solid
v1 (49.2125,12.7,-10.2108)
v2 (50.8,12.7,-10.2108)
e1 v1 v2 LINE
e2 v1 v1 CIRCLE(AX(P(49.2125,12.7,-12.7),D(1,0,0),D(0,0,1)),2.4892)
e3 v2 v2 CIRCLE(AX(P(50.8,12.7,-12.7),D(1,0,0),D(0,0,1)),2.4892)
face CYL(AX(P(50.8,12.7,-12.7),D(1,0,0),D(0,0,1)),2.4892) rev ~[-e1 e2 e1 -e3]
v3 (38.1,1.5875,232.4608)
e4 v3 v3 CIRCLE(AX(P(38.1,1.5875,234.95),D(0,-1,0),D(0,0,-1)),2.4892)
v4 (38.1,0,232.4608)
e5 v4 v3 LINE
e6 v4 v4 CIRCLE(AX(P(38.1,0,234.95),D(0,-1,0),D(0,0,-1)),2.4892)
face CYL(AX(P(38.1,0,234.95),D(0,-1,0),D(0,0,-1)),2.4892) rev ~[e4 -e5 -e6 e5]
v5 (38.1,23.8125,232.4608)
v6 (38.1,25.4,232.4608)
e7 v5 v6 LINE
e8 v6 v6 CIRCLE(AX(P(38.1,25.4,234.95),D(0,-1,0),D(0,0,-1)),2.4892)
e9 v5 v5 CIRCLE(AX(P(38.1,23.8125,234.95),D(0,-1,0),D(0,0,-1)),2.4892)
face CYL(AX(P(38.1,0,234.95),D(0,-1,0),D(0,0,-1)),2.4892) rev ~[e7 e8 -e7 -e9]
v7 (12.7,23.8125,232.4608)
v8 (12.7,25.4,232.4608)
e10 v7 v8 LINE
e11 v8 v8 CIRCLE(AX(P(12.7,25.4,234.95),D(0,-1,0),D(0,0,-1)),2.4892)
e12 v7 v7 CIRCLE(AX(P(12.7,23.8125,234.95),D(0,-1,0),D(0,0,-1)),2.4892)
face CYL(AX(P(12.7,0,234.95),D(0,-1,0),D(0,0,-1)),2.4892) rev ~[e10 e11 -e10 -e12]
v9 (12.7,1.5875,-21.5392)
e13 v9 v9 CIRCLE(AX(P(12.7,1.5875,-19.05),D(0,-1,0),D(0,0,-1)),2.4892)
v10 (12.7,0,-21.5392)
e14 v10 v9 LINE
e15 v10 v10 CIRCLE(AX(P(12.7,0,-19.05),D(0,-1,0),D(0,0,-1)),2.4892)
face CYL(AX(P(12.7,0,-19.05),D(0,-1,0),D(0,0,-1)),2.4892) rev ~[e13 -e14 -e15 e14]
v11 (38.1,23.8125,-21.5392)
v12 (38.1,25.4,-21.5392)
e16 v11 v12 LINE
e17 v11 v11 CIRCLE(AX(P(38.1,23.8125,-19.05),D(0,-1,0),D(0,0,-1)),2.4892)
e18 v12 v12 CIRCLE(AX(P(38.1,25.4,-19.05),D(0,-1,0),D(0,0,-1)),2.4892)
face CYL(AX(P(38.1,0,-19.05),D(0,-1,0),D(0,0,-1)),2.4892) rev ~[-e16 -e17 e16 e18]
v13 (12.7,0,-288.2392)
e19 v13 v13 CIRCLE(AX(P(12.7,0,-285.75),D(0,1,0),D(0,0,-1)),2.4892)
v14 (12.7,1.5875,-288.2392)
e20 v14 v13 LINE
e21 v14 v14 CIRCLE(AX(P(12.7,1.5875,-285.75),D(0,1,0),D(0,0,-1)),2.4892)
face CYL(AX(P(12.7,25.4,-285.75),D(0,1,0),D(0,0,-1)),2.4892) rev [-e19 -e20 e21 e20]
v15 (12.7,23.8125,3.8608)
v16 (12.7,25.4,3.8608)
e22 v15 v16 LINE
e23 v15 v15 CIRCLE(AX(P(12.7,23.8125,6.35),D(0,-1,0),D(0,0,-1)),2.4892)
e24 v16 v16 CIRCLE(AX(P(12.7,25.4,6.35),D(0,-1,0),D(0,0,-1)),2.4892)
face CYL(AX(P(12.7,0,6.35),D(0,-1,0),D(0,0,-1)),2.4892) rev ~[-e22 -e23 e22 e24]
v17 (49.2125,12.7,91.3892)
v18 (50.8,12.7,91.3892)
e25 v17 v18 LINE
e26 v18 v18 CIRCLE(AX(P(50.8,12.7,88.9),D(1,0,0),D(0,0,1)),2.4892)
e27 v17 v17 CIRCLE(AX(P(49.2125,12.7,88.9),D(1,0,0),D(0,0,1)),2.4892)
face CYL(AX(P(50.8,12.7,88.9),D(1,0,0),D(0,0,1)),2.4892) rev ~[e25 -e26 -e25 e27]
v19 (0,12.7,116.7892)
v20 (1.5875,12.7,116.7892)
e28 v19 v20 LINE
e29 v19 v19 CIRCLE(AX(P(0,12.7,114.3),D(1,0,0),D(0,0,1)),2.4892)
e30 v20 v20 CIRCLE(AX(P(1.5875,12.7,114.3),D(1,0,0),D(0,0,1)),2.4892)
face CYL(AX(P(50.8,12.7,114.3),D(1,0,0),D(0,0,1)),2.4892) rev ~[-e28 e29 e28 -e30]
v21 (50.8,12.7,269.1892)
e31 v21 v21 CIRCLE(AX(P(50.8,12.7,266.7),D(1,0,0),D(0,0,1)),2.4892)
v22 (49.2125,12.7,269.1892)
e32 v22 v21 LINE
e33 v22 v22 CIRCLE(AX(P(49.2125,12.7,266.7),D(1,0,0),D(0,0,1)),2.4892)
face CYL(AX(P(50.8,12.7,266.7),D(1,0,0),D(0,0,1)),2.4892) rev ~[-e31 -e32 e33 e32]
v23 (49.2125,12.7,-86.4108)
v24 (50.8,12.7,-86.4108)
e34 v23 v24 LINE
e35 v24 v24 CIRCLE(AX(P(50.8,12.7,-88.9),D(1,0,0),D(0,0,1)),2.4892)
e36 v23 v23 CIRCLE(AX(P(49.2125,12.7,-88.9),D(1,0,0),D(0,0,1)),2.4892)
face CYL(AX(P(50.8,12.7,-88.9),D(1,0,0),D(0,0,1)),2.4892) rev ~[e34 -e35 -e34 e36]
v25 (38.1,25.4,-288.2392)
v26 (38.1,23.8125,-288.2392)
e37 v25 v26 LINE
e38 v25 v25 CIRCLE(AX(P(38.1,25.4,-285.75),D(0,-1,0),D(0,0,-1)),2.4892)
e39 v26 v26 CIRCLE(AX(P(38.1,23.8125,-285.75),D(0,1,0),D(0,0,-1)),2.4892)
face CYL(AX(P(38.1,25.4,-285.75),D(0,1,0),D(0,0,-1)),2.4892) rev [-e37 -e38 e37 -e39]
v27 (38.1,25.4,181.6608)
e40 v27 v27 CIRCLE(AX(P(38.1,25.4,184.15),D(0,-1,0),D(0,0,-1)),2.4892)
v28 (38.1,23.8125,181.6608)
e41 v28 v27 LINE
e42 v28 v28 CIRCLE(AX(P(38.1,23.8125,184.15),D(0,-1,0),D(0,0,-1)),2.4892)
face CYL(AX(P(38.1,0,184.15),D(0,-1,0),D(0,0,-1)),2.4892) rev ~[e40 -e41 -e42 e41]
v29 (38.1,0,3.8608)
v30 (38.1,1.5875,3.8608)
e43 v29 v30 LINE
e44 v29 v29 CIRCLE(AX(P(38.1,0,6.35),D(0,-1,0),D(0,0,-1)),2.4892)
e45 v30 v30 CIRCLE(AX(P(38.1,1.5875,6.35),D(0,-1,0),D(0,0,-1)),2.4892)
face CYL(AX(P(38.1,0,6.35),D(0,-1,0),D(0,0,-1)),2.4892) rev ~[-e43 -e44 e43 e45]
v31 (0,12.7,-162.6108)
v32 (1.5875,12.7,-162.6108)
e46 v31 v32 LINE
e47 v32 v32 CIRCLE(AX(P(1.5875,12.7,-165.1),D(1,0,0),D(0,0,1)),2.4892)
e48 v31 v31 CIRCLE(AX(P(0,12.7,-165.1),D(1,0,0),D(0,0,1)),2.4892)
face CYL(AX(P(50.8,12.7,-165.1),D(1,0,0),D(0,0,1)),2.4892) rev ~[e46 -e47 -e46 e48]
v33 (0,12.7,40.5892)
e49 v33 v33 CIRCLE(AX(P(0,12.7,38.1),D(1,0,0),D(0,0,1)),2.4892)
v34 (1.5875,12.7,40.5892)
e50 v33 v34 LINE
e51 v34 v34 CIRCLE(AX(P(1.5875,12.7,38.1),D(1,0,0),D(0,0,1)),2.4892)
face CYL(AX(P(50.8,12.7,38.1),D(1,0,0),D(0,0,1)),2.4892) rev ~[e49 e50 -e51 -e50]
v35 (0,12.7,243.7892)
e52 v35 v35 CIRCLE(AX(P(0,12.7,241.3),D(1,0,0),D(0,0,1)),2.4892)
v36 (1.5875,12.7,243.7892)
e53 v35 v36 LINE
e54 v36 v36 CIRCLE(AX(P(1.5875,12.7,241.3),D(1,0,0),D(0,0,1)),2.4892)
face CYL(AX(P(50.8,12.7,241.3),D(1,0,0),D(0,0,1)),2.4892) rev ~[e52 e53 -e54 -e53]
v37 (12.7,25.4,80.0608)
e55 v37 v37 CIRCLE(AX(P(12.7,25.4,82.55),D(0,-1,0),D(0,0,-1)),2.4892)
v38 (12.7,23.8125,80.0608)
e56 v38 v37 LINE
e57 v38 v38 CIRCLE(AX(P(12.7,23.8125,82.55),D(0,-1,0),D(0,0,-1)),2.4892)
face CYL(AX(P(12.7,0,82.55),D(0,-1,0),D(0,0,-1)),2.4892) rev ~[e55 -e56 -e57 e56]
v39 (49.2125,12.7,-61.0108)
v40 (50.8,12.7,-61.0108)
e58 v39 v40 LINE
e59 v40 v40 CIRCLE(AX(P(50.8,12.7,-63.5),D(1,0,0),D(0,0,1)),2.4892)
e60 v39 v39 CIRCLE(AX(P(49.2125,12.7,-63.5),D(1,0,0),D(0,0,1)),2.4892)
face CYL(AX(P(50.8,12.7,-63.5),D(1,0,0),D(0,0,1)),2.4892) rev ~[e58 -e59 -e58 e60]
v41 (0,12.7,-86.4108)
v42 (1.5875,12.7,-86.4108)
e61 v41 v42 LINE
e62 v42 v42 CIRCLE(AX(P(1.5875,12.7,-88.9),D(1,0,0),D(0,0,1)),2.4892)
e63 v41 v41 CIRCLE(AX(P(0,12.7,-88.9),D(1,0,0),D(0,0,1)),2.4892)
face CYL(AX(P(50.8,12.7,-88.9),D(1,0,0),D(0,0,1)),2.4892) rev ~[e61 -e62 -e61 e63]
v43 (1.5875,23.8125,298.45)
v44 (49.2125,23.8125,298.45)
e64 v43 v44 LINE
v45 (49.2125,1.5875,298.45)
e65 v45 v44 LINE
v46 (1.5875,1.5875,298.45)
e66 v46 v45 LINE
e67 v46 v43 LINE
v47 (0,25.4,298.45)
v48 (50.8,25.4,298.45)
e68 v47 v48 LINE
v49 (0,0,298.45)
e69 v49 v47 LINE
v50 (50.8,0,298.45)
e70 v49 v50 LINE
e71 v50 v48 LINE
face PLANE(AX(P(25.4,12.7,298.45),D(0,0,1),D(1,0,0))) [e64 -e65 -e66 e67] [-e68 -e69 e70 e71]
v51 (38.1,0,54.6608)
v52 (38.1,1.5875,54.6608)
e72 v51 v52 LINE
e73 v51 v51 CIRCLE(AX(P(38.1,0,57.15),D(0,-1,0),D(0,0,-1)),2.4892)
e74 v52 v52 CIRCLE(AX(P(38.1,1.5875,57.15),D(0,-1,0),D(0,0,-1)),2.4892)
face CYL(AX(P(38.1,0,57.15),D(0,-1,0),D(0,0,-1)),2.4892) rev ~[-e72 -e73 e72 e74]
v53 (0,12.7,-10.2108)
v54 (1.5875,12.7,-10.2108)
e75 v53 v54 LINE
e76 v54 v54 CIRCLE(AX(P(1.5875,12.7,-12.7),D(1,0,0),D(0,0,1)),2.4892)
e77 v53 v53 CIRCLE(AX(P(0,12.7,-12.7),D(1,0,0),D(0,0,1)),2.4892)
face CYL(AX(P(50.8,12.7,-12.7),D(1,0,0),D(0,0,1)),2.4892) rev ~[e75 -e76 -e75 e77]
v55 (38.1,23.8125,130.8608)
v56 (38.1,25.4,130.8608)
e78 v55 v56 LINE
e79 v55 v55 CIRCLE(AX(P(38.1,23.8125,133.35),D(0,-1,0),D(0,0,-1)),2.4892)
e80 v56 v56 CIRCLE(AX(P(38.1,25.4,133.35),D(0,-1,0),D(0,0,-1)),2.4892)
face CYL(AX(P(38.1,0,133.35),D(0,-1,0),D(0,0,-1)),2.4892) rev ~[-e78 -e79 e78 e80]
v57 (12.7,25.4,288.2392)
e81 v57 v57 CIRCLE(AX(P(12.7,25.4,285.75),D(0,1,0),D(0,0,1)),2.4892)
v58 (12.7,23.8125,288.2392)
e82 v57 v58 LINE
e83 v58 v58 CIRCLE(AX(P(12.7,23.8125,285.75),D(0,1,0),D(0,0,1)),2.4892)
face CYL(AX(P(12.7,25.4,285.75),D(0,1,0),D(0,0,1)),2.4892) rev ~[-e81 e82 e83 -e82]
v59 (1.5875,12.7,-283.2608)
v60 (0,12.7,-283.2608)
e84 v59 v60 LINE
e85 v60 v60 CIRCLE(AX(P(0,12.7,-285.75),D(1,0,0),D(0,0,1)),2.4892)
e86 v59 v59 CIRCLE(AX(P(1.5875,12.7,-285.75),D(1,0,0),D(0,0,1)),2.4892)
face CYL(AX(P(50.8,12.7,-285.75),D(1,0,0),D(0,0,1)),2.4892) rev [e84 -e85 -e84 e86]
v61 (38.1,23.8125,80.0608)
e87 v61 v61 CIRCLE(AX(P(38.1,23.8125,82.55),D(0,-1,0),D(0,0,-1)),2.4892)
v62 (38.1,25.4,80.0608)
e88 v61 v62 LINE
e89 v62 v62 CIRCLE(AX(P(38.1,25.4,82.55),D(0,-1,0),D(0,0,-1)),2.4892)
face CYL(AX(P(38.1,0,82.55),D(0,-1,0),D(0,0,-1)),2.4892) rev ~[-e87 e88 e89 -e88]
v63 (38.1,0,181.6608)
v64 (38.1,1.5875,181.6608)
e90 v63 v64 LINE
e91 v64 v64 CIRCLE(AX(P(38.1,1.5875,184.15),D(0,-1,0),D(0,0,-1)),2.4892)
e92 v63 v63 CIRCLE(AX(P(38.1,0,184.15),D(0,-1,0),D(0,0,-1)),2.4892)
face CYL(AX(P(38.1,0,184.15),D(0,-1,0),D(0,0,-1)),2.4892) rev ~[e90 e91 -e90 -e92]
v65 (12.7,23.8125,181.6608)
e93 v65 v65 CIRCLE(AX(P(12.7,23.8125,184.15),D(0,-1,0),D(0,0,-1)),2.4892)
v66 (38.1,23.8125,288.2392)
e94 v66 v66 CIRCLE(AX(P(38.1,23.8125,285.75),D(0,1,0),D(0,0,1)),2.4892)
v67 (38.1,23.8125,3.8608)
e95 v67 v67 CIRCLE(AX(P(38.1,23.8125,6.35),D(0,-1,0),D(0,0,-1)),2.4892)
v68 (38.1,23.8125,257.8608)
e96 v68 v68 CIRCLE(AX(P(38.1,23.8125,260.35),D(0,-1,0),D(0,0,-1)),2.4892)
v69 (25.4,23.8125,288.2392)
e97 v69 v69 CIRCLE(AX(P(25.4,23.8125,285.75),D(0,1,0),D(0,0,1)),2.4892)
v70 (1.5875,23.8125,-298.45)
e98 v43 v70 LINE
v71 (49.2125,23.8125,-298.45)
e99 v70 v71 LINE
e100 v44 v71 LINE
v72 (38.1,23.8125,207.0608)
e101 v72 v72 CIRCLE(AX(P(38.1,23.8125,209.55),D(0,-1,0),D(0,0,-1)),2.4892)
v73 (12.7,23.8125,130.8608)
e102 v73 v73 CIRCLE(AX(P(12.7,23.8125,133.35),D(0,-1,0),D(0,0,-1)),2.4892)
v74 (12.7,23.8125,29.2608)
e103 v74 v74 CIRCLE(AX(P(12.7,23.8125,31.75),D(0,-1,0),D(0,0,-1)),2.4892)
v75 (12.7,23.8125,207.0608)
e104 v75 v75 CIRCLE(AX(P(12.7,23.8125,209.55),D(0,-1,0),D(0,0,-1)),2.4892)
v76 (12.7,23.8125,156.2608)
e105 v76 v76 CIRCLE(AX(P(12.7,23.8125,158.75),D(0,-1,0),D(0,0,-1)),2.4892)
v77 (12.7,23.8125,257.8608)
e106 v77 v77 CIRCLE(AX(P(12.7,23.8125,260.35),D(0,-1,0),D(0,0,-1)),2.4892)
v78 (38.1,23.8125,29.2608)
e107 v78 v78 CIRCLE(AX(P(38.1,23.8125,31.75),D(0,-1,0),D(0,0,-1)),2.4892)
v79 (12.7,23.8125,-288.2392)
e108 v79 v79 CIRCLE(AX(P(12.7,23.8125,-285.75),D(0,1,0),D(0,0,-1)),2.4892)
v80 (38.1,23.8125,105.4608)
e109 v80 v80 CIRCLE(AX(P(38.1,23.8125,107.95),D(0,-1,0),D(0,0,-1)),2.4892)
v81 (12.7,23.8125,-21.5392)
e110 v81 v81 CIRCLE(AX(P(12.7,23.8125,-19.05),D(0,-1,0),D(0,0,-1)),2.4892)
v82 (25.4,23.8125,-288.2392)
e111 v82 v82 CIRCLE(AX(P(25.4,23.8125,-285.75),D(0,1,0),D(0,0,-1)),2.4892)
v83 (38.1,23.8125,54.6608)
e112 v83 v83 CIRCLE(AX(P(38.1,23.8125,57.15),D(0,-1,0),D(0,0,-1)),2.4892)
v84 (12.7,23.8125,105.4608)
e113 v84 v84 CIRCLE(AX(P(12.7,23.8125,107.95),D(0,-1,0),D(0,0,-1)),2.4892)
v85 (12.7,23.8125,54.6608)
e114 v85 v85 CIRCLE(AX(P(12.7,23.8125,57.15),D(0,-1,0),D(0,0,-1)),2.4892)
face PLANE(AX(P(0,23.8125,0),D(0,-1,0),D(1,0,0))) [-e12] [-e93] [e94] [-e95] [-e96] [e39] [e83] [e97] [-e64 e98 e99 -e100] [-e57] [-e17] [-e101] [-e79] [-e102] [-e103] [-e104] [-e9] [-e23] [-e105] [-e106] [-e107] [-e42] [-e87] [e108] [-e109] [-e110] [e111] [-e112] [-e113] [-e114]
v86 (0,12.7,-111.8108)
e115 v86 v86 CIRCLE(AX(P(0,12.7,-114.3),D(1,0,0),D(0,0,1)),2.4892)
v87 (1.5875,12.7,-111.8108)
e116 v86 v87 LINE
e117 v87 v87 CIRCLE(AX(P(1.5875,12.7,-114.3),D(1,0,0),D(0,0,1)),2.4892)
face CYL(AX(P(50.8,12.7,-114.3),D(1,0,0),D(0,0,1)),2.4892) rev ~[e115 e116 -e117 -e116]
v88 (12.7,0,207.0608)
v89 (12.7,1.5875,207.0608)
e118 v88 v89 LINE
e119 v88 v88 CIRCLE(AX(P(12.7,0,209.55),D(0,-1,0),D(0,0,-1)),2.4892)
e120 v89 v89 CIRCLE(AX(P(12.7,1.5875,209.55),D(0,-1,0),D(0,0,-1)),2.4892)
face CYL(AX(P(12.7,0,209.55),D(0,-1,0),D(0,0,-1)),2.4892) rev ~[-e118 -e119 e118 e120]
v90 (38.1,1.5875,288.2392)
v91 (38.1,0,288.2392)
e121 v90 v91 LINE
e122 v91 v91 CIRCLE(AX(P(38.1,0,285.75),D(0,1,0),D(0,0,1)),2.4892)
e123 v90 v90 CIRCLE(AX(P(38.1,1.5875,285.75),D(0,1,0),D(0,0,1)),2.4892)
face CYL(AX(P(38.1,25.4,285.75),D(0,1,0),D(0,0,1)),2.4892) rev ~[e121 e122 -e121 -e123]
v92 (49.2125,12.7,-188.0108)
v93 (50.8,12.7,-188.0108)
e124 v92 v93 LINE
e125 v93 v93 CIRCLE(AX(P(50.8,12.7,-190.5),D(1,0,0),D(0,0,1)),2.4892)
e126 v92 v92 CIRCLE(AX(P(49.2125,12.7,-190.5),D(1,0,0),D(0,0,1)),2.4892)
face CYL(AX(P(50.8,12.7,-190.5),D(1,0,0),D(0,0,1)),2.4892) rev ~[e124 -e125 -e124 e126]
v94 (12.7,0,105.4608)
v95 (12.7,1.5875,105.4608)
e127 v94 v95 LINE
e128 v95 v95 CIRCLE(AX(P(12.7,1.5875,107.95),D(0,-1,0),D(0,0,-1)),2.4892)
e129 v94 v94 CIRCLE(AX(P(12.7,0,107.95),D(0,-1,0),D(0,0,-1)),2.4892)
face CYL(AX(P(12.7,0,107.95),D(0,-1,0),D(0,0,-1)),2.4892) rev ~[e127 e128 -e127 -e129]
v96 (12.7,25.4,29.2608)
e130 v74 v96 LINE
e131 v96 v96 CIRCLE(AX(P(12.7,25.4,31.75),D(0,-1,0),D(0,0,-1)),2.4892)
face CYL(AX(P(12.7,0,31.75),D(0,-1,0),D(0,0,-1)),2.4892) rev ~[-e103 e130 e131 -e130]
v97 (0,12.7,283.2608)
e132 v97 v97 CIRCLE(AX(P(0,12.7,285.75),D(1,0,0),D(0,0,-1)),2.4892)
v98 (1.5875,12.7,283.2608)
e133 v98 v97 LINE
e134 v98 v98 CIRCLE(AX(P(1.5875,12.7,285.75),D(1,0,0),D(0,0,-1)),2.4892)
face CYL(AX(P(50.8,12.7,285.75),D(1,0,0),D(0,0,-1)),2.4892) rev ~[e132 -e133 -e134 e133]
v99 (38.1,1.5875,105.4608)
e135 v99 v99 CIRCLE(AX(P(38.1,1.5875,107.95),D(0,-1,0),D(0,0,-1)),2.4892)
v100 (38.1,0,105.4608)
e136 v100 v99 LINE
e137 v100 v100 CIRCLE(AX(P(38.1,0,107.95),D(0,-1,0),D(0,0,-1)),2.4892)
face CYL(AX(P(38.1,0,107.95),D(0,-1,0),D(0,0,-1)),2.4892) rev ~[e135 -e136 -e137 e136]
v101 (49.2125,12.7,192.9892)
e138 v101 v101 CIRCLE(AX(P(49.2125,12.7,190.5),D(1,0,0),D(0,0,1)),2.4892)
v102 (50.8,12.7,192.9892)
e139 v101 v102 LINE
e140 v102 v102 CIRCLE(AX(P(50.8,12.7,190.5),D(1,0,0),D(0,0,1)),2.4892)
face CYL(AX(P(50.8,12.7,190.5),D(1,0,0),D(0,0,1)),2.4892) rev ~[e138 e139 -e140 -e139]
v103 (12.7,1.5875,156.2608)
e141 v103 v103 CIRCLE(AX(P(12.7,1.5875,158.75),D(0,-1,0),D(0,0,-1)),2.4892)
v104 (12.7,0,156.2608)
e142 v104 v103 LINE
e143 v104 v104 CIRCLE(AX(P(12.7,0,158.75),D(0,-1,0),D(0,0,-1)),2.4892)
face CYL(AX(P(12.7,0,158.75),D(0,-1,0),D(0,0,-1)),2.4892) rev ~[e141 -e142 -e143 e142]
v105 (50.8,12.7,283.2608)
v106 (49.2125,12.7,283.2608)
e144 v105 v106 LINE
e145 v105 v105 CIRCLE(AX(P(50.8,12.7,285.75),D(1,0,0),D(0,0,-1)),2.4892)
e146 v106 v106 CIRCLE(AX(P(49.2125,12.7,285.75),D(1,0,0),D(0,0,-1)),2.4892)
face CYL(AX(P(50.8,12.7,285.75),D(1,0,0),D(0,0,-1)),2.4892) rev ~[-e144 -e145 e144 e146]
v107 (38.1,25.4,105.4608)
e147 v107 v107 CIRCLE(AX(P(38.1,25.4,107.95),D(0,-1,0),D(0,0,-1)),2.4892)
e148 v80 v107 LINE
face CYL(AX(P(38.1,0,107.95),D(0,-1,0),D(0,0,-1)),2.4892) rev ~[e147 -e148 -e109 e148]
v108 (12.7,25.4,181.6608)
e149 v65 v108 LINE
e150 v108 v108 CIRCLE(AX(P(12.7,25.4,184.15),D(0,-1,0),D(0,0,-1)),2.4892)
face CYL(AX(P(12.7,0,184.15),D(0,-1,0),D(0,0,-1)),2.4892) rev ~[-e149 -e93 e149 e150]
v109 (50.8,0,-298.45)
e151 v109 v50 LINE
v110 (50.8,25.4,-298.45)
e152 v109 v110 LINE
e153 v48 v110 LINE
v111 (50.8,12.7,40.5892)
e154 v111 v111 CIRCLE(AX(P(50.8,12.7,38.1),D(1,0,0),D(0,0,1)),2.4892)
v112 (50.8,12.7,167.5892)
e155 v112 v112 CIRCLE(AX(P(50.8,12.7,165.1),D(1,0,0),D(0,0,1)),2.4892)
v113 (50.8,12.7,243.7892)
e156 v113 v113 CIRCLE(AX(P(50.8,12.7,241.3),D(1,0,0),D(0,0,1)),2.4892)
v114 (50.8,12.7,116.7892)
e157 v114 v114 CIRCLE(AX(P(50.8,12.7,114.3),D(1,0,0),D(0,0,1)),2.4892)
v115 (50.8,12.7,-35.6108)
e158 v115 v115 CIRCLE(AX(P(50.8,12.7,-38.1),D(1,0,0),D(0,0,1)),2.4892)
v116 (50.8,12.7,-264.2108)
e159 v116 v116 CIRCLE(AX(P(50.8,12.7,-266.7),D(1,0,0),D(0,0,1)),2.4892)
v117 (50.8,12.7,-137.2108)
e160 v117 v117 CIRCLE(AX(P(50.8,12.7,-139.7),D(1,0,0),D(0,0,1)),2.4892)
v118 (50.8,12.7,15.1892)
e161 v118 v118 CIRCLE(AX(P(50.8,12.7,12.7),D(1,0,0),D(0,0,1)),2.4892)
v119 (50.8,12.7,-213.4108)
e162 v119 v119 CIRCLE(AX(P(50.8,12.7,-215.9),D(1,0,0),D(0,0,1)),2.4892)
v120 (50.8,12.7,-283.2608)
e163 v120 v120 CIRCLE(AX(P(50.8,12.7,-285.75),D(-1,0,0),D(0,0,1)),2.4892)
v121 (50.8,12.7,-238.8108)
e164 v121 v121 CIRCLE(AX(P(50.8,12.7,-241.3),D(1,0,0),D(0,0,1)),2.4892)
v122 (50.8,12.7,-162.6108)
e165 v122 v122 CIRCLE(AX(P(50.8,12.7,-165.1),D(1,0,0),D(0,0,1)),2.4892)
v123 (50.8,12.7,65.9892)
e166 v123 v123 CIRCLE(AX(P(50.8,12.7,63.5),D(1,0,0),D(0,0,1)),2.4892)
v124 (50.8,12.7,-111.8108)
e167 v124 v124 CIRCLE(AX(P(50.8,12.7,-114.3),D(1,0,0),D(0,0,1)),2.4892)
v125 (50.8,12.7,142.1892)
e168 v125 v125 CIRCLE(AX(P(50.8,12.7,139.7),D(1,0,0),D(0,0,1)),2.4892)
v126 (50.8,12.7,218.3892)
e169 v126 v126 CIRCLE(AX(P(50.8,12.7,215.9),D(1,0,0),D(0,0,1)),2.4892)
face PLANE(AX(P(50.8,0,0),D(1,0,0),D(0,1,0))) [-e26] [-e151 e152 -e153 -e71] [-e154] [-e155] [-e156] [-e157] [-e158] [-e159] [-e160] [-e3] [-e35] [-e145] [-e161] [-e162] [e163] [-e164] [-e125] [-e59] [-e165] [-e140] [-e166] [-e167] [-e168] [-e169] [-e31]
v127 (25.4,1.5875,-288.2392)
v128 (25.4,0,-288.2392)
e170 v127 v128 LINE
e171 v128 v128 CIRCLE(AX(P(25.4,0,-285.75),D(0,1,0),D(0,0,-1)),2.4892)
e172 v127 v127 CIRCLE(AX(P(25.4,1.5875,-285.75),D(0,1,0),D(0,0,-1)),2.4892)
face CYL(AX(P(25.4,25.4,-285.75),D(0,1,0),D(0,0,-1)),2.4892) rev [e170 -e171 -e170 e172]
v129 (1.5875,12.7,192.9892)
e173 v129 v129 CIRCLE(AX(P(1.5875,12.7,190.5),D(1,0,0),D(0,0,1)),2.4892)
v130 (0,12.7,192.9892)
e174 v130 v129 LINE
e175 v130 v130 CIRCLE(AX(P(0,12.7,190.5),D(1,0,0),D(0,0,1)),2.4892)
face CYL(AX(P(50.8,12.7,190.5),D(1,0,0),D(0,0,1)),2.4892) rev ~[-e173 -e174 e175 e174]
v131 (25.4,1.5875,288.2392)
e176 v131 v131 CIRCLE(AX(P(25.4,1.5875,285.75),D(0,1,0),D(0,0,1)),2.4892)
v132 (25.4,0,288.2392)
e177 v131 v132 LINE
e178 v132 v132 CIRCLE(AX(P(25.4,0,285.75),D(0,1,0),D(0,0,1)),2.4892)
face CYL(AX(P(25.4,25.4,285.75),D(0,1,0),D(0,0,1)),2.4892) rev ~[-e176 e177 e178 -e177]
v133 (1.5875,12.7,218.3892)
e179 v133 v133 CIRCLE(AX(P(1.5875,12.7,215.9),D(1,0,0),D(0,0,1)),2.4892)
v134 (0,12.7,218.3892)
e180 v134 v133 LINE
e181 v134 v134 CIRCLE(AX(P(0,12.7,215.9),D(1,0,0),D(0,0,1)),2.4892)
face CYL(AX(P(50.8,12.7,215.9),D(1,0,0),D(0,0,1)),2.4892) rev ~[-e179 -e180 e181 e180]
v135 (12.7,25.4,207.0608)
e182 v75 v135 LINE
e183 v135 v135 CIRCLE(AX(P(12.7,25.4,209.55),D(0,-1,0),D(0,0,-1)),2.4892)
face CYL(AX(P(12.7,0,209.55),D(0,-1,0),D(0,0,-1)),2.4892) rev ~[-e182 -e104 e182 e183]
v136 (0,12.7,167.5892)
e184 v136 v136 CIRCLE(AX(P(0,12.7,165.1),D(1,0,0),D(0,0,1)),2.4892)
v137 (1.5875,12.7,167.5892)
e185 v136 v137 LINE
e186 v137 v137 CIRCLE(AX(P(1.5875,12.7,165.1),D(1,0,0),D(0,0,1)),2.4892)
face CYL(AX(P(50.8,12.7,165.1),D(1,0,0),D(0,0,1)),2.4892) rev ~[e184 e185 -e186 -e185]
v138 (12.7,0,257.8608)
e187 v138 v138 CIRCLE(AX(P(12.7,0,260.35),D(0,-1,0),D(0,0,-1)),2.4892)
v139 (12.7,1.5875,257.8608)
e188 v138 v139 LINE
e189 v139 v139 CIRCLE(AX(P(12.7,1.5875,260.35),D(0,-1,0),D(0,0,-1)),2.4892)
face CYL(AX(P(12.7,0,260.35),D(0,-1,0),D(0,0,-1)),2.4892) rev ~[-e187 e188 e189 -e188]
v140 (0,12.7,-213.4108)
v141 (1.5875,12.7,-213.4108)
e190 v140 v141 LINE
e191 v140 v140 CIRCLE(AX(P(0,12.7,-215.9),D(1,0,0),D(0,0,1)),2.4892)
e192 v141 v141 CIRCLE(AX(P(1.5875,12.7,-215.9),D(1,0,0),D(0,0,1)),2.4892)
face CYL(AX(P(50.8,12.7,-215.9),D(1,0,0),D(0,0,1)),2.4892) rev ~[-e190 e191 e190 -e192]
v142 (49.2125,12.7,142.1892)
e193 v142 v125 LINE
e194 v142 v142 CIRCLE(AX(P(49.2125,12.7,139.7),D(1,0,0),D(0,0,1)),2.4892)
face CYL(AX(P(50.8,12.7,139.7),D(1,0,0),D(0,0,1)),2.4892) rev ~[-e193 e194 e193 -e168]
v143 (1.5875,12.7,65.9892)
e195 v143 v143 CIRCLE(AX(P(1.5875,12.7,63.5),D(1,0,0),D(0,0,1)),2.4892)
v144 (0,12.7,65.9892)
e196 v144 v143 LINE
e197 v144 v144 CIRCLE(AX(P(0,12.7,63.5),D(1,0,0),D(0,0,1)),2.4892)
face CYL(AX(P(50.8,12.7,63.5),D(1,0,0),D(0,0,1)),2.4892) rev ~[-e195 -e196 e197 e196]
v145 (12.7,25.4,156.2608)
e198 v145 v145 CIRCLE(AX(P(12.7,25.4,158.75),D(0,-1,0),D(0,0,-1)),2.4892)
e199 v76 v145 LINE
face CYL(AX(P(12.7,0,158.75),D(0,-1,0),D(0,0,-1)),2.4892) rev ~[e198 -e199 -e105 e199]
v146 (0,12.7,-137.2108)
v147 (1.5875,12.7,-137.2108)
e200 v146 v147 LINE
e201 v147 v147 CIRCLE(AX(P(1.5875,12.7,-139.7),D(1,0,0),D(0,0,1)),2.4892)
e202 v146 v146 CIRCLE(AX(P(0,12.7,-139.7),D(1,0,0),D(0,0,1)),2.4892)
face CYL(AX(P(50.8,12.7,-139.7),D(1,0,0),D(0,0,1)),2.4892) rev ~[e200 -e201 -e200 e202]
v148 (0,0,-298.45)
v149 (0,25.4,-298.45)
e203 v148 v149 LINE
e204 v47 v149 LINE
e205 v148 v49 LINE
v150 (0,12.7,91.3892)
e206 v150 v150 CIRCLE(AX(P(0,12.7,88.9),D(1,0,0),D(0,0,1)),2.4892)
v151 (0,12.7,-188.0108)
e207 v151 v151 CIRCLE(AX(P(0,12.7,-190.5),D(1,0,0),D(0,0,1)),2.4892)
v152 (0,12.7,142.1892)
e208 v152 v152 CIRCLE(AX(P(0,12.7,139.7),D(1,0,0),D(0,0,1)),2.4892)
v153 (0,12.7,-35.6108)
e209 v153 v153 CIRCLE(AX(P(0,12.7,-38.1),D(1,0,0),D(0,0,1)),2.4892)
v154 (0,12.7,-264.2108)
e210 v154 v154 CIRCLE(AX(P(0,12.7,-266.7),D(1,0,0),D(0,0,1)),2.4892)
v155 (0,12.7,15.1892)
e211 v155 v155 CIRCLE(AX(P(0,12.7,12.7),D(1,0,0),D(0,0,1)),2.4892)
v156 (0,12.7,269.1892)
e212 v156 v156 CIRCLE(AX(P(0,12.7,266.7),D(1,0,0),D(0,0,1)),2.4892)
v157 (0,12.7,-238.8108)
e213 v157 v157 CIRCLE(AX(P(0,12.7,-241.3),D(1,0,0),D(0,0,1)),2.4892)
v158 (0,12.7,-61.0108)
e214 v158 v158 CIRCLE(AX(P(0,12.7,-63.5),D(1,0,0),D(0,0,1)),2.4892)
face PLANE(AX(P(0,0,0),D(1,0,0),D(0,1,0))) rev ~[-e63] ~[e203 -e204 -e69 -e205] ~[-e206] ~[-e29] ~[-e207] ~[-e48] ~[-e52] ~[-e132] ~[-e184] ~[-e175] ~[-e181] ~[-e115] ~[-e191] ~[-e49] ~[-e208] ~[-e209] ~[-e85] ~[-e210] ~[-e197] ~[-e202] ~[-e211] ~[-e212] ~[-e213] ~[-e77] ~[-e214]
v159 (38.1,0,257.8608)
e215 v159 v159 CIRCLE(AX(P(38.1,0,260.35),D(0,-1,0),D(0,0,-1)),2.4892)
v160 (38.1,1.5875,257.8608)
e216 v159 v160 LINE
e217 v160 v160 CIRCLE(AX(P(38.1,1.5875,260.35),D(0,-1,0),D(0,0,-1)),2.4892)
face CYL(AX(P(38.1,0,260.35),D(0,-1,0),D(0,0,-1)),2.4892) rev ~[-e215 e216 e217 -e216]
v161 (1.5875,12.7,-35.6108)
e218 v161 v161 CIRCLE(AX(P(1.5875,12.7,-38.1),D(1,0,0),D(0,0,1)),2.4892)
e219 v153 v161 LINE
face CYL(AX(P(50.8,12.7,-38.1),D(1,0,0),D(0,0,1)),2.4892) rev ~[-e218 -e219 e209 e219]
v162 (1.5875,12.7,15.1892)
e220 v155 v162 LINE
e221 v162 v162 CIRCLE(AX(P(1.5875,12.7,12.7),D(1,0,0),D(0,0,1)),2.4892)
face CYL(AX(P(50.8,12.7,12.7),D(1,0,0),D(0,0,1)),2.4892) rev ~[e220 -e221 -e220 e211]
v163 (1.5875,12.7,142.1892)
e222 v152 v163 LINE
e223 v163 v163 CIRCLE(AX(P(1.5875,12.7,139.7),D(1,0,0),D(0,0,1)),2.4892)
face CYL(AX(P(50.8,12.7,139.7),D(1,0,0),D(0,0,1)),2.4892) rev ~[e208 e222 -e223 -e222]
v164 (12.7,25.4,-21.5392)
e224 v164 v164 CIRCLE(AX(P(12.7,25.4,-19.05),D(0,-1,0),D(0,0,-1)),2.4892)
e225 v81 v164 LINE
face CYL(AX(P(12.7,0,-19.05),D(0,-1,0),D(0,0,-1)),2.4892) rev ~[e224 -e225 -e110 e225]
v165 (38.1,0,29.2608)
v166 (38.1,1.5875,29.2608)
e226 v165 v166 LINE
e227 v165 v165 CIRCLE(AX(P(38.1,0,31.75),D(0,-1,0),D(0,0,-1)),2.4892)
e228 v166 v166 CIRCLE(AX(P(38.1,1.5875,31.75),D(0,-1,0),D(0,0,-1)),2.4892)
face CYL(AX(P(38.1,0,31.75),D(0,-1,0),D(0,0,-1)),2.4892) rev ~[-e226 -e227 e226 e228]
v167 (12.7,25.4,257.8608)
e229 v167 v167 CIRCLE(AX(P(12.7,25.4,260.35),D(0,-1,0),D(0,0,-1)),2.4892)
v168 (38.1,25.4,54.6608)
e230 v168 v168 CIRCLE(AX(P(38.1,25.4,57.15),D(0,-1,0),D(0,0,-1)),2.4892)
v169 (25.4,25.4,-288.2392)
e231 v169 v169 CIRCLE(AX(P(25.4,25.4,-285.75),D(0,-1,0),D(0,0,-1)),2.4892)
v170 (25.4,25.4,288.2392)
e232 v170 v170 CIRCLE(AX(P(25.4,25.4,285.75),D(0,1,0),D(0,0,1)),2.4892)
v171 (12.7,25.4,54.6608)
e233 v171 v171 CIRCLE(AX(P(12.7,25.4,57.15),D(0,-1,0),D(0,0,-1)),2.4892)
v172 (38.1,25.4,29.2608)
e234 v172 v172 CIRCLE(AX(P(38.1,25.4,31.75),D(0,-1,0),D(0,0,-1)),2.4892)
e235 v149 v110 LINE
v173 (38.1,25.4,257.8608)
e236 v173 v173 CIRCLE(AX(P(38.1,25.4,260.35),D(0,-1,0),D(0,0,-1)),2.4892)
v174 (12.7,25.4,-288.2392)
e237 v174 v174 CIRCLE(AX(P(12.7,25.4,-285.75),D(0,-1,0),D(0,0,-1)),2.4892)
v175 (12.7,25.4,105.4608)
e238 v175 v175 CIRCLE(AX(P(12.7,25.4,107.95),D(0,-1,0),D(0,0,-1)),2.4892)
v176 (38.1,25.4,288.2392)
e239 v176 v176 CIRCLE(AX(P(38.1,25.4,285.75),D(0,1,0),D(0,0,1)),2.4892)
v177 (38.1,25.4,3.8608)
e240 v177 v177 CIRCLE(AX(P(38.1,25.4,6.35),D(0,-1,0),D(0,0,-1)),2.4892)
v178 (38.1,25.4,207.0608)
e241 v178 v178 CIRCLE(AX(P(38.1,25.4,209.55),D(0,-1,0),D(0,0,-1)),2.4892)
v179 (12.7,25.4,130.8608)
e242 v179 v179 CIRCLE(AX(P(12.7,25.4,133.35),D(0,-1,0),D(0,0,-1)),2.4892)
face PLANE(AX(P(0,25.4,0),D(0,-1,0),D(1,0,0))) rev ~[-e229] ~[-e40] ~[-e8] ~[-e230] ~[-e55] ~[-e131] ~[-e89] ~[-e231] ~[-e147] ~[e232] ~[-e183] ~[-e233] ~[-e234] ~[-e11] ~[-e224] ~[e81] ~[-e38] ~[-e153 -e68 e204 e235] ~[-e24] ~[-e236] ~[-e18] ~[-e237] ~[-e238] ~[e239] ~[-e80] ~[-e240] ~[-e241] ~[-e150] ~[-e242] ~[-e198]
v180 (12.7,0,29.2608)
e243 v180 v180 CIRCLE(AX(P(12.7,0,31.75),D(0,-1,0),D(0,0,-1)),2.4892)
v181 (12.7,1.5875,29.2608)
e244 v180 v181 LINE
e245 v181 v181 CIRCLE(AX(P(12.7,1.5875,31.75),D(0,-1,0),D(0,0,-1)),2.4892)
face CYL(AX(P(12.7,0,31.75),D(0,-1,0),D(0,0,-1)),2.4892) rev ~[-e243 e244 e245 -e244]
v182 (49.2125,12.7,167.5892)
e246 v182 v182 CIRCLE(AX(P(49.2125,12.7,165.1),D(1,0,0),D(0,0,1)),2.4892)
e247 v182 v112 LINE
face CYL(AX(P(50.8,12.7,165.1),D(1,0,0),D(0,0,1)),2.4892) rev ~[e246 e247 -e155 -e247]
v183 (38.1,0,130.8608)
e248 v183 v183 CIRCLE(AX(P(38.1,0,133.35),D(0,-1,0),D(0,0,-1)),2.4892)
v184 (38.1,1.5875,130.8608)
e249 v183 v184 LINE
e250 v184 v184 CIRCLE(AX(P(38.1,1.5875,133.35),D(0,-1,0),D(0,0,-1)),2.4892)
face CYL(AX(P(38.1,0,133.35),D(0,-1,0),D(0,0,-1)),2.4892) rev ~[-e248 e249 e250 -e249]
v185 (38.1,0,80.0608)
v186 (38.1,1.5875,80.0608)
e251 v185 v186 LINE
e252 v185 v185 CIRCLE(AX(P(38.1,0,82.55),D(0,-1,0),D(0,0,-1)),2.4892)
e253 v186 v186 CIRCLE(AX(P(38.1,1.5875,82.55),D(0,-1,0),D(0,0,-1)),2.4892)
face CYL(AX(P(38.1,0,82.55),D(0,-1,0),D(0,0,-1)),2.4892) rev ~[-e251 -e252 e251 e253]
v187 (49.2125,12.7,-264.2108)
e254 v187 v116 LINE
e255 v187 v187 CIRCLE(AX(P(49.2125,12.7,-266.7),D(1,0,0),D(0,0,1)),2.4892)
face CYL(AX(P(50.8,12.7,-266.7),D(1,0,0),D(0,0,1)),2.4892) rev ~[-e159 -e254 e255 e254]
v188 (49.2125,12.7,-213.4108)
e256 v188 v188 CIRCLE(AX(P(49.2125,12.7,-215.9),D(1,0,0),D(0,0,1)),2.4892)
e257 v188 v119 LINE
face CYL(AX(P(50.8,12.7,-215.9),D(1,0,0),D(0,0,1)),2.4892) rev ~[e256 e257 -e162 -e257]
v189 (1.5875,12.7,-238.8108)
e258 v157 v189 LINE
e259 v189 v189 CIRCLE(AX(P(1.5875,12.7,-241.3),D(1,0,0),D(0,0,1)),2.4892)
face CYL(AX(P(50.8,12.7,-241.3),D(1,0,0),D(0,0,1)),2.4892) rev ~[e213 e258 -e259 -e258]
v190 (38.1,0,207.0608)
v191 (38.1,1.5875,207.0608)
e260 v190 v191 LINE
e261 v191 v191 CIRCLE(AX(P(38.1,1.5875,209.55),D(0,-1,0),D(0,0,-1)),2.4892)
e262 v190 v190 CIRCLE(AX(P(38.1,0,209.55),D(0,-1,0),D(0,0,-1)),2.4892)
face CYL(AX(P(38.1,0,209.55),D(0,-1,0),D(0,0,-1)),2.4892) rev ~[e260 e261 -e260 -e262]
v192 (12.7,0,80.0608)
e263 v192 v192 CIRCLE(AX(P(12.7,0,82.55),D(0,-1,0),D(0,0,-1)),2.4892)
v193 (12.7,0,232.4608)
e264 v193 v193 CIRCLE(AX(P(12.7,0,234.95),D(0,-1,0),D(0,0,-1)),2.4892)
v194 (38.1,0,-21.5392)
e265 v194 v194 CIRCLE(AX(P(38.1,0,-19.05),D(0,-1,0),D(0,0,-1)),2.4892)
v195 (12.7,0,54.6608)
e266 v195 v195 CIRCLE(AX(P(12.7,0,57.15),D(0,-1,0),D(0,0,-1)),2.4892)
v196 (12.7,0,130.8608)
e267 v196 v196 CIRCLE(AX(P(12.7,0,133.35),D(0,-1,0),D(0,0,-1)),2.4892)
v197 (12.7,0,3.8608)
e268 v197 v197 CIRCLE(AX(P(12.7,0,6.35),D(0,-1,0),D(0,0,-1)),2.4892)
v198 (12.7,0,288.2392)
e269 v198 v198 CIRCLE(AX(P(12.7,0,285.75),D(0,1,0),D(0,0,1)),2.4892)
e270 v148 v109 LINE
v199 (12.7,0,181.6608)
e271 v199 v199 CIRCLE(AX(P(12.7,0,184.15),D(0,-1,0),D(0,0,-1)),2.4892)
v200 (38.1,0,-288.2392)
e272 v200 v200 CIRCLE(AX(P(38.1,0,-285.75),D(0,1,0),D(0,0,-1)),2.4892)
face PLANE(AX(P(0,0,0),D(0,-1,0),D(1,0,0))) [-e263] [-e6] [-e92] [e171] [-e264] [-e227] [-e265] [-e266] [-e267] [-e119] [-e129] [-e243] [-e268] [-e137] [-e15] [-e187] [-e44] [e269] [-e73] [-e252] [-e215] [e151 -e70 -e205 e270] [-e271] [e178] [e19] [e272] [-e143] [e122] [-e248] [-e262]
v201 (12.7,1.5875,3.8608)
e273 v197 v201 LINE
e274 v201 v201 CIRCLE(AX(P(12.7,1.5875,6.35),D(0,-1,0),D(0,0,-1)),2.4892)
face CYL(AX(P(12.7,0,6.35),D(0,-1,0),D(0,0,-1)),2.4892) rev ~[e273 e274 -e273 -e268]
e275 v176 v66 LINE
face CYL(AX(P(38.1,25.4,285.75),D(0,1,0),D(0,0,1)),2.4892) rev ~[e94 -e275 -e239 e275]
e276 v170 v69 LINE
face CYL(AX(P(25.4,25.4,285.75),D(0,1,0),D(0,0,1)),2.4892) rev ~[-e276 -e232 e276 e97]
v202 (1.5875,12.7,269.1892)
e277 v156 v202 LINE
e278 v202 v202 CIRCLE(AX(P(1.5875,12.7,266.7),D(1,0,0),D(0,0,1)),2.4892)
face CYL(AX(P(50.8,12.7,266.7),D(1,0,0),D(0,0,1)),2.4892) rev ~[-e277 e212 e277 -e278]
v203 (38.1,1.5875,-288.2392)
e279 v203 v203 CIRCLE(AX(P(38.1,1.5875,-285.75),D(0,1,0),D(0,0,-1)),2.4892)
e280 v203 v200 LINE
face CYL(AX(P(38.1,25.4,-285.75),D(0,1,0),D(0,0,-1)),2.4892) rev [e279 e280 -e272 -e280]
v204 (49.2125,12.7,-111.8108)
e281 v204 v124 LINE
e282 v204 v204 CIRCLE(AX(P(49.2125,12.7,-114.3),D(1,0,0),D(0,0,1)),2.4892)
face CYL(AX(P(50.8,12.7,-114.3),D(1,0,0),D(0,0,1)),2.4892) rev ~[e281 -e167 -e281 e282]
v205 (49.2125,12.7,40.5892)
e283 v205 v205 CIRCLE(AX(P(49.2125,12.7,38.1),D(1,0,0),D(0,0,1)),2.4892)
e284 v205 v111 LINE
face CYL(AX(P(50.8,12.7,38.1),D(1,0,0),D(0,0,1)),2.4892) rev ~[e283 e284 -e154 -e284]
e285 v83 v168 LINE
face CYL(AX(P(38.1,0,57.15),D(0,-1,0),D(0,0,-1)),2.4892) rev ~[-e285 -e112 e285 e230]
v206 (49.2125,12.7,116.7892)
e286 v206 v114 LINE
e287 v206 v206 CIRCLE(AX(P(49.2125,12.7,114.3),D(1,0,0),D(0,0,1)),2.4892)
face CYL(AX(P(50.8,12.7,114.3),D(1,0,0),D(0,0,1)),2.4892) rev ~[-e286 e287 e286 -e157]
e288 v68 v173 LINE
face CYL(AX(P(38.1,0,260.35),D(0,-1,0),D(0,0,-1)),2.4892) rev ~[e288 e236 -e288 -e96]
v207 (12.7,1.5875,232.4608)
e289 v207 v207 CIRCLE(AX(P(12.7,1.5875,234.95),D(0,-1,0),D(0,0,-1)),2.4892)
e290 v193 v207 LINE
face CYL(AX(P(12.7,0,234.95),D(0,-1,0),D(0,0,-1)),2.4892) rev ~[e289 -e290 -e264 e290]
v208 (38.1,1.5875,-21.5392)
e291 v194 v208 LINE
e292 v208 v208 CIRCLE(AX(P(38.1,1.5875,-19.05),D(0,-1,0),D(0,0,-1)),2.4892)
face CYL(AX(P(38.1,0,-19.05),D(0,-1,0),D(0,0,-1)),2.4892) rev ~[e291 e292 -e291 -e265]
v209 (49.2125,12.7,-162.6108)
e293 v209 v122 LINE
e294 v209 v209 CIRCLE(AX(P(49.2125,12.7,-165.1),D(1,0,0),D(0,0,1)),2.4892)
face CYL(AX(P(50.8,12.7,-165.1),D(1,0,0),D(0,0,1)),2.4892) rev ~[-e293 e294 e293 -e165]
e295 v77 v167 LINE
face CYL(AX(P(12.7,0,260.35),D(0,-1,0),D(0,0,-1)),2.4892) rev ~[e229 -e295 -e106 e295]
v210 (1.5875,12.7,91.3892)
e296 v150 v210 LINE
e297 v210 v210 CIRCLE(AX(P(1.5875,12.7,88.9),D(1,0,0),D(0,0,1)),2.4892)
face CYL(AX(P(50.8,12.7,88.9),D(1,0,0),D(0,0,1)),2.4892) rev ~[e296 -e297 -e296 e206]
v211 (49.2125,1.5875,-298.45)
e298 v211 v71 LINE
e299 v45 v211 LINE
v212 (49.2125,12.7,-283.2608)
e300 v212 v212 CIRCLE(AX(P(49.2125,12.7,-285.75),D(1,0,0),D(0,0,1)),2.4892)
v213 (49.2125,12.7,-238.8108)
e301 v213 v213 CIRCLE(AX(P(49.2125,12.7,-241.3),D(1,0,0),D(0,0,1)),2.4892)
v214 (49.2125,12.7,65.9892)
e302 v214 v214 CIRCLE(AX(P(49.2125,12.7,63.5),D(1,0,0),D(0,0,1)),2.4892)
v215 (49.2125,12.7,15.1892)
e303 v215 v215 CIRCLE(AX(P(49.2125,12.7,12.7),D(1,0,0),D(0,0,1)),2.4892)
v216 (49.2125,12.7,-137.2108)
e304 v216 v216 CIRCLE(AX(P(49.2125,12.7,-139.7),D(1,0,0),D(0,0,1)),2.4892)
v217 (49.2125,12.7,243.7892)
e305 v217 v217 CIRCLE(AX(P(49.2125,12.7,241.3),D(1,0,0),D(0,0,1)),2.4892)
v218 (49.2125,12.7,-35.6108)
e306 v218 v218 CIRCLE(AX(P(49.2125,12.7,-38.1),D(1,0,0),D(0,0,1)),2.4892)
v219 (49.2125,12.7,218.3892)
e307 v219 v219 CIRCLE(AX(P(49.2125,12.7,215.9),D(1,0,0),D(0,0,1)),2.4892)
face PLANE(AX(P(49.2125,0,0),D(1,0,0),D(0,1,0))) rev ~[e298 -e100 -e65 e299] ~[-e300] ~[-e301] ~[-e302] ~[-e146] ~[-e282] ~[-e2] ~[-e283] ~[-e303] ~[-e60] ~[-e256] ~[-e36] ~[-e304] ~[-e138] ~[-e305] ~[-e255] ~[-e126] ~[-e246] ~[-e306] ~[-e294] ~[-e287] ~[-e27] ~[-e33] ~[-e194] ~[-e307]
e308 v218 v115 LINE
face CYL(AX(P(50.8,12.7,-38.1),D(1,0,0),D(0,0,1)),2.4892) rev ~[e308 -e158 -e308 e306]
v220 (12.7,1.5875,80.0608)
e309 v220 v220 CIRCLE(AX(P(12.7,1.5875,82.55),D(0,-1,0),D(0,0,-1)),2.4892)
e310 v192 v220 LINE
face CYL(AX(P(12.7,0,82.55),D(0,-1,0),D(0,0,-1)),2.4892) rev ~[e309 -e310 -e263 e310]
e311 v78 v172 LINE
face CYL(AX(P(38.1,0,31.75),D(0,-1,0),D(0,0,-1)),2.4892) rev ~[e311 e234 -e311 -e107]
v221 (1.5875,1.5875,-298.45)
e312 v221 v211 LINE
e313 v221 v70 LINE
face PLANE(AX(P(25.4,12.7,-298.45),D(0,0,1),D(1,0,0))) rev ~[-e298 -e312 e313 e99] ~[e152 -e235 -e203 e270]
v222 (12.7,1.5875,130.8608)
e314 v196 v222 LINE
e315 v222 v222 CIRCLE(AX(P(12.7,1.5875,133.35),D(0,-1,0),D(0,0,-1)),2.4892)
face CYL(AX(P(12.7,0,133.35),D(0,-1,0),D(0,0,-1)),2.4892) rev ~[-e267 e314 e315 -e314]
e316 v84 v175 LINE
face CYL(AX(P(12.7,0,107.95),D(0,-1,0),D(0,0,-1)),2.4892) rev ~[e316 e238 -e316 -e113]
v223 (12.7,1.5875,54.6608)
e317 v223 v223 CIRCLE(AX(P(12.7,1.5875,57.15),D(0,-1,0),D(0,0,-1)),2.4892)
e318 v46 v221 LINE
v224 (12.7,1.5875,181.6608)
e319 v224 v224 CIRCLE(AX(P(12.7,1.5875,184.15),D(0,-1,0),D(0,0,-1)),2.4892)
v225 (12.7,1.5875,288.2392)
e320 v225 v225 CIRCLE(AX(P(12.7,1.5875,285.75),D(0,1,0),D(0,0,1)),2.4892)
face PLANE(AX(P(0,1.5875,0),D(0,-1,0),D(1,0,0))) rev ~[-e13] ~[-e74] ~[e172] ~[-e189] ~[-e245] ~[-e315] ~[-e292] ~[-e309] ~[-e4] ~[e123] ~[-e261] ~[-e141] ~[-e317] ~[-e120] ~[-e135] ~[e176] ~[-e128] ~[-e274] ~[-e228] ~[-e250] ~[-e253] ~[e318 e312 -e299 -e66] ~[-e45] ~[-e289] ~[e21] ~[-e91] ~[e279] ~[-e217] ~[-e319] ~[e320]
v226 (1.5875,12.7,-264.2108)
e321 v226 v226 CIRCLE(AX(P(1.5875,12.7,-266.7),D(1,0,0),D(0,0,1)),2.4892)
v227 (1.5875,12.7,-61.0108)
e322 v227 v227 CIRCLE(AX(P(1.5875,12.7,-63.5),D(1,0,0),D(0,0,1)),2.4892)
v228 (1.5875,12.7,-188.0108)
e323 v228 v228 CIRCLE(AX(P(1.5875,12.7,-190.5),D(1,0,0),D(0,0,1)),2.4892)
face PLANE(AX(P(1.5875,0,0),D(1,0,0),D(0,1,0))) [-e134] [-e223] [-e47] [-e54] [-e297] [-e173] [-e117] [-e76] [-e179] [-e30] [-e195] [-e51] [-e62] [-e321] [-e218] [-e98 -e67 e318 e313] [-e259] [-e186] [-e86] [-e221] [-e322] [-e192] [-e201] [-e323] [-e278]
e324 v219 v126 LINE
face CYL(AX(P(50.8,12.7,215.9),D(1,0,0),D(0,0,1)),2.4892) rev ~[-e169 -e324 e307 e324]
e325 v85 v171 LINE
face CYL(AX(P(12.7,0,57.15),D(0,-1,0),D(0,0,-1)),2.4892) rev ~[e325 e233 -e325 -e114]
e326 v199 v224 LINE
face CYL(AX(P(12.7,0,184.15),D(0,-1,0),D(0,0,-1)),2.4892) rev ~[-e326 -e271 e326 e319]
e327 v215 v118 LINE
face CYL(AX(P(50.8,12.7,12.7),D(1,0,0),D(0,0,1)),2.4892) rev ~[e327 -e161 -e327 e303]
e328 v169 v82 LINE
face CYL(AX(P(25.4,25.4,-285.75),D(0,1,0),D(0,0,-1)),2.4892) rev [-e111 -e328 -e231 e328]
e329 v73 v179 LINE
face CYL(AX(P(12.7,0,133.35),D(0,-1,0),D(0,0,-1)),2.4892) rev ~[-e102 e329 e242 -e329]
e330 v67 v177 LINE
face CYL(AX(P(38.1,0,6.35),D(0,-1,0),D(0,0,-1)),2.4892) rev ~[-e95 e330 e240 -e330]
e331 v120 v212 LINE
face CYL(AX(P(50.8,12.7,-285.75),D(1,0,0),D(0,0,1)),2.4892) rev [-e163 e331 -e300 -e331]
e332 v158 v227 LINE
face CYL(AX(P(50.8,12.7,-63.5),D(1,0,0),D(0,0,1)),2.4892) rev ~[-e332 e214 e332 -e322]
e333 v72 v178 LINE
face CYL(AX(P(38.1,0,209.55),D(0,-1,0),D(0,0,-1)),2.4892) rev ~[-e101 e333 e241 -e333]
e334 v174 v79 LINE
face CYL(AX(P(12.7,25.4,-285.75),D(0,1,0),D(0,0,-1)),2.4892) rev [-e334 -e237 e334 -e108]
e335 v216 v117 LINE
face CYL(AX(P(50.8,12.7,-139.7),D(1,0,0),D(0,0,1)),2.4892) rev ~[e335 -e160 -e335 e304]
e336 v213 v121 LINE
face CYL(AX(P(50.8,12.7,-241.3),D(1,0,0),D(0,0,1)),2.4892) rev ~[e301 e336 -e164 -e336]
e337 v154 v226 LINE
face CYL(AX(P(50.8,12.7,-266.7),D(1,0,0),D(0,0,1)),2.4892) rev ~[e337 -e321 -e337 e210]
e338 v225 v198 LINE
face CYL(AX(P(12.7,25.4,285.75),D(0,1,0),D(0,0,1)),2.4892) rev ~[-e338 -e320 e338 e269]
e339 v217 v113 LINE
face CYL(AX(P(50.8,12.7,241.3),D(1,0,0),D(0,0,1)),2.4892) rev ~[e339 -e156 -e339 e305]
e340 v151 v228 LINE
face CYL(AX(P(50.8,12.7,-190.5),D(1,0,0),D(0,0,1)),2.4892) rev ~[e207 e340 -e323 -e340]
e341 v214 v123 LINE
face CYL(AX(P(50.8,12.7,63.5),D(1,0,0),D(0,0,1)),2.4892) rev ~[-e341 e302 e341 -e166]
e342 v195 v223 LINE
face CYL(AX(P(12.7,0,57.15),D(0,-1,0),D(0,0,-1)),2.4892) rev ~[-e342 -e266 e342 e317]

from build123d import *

# Parameters (mm, degrees)
SKETCH1_W           = 50.8
SKETCH1_H           = 25.4
BOSS_EXTRUDE1_DEPTH = 298.45
SHELL1_T            = -1.5875
SKETCH2_R           = 2.4892
CUT_EXTRUDE1_DEPTH  = 304.806192333
SKETCH3_R           = 2.4892
CUT_EXTRUDE2_DEPTH  = 304.806192333
SKETCH4_R           = 2.4892
CUT_EXTRUDE3_DEPTH  = 304.806192333
LPATTERN1_COUNT     = 22
LPATTERN1_PITCH     = 25.4
SKETCH5_R           = 2.4892
CUT_EXTRUDE4_DEPTH  = 304.806192333


with BuildPart() as part:
    # Sketch1 → Boss-Extrude1 (new, symmetric)
    with BuildSketch(Plane.XY):
        with Locations((25.4, 12.7)):
            Rectangle(SKETCH1_W, SKETCH1_H)
    extrude(amount=BOSS_EXTRUDE1_DEPTH, both=True)

    # Shell1
    shell1_openings = [part.faces().sort_by_distance(p)[0] for p in [
        (25.4, 12.7, 298.45),
        (25.4, 12.7, -298.45),
    ]]
    offset(amount=SHELL1_T, openings=shell1_openings, kind=Kind.INTERSECTION)

    # Sketch2 → Cut-Extrude1 (cut, through all)
    with BuildSketch(Plane(origin=(0, 25.4, 0), x_dir=(1, 0, 0), z_dir=(0, 1, 0))):
        with Locations(Location((38.1, -285.75, 0), (0, 0, 270))):
            Circle(SKETCH2_R)
        with Locations(Location((25.4, -285.75, 0), (0, 0, 270))):
            Circle(SKETCH2_R)
        with Locations(Location((12.7, -285.75, 0), (0, 0, 270))):
            Circle(SKETCH2_R)
    cut_extrude1 = extrude(amount=-CUT_EXTRUDE1_DEPTH, mode=Mode.SUBTRACT)

    # Sketch3 → Cut-Extrude2 (cut, through all)
    with BuildSketch(Plane(origin=(50.8, 0, 0), x_dir=(0, 0, -1), z_dir=(1, 0, 0))):
        with Locations((-285.75, 12.7)):
            Circle(SKETCH3_R)
    cut_extrude2 = extrude(amount=-CUT_EXTRUDE2_DEPTH, mode=Mode.SUBTRACT)

    # Mirror1: Cut-Extrude1, Cut-Extrude2 across plane
    add(cut_extrude1.mirror(Plane.XY), mode=Mode.SUBTRACT)
    add(cut_extrude2.mirror(Plane.XY), mode=Mode.SUBTRACT)

    # Sketch4 → Cut-Extrude3 (cut, symmetric)
    with BuildSketch(Plane(origin=(50.8, 0, 0), x_dir=(0, 0, -1), z_dir=(1, 0, 0))):
        with Locations(Location((-266.7, 12.7, 0), (0, 0, 180))):
            Circle(SKETCH4_R)
    cut_extrude3 = extrude(amount=CUT_EXTRUDE3_DEPTH, both=True, mode=Mode.SUBTRACT)

    # LPattern1: Cut-Extrude3 ×22
    with Locations(*[(0, 0, -i * LPATTERN1_PITCH) for i in range(1, LPATTERN1_COUNT)]):
        add(cut_extrude3, mode=Mode.SUBTRACT)

    # Sketch5 → Cut-Extrude4 (cut, through all)
    with BuildSketch(Plane.XZ):
        with Locations(Location((12.7, 158.75, 0), (0, 0, 270))):
            Circle(SKETCH5_R)
        with Locations(Location((12.7, 184.15, 0), (0, 0, 270))):
            Circle(SKETCH5_R)
        with Locations(Location((38.1, 184.15, 0), (0, 0, 270))):
            Circle(SKETCH5_R)
        with Locations(Location((38.1, 209.55, 0), (0, 0, 270))):
            Circle(SKETCH5_R)
        with Locations(Location((12.7, 209.55, 0), (0, 0, 270))):
            Circle(SKETCH5_R)
        with Locations(Location((12.7, 234.95, 0), (0, 0, 270))):
            Circle(SKETCH5_R)
        with Locations(Location((38.1, 234.95, 0), (0, 0, 270))):
            Circle(SKETCH5_R)
        with Locations(Location((38.1, 260.35, 0), (0, 0, 270))):
            Circle(SKETCH5_R)
        with Locations(Location((12.7, 260.35, 0), (0, 0, 270))):
            Circle(SKETCH5_R)
        with Locations(Location((12.7, 31.75, 0), (0, 0, 270))):
            Circle(SKETCH5_R)
        with Locations(Location((38.1, 31.75, 0), (0, 0, 270))):
            Circle(SKETCH5_R)
        with Locations(Location((12.7, 57.15, 0), (0, 0, 270))):
            Circle(SKETCH5_R)
        with Locations(Location((38.1, 57.15, 0), (0, 0, 270))):
            Circle(SKETCH5_R)
        with Locations(Location((12.7, 82.55, 0), (0, 0, 270))):
            Circle(SKETCH5_R)
        with Locations(Location((38.1, 82.55, 0), (0, 0, 270))):
            Circle(SKETCH5_R)
        with Locations(Location((38.1, 107.95, 0), (0, 0, 270))):
            Circle(SKETCH5_R)
        with Locations(Location((38.1, 133.35, 0), (0, 0, 270))):
            Circle(SKETCH5_R)
        with Locations(Location((12.7, 107.95, 0), (0, 0, 270))):
            Circle(SKETCH5_R)
        with Locations(Location((12.7, 133.35, 0), (0, 0, 270))):
            Circle(SKETCH5_R)
        with Locations(Location((38.1, 6.35, 0), (0, 0, 270))):
            Circle(SKETCH5_R)
        with Locations(Location((38.1, -19.05, 0), (0, 0, 270))):
            Circle(SKETCH5_R)
        with Locations(Location((12.7, -19.05, 0), (0, 0, 270))):
            Circle(SKETCH5_R)
        with Locations(Location((12.7, 6.35, 0), (0, 0, 270))):
            Circle(SKETCH5_R)
    extrude(amount=-CUT_EXTRUDE4_DEPTH, mode=Mode.SUBTRACT)


solid = part.part
